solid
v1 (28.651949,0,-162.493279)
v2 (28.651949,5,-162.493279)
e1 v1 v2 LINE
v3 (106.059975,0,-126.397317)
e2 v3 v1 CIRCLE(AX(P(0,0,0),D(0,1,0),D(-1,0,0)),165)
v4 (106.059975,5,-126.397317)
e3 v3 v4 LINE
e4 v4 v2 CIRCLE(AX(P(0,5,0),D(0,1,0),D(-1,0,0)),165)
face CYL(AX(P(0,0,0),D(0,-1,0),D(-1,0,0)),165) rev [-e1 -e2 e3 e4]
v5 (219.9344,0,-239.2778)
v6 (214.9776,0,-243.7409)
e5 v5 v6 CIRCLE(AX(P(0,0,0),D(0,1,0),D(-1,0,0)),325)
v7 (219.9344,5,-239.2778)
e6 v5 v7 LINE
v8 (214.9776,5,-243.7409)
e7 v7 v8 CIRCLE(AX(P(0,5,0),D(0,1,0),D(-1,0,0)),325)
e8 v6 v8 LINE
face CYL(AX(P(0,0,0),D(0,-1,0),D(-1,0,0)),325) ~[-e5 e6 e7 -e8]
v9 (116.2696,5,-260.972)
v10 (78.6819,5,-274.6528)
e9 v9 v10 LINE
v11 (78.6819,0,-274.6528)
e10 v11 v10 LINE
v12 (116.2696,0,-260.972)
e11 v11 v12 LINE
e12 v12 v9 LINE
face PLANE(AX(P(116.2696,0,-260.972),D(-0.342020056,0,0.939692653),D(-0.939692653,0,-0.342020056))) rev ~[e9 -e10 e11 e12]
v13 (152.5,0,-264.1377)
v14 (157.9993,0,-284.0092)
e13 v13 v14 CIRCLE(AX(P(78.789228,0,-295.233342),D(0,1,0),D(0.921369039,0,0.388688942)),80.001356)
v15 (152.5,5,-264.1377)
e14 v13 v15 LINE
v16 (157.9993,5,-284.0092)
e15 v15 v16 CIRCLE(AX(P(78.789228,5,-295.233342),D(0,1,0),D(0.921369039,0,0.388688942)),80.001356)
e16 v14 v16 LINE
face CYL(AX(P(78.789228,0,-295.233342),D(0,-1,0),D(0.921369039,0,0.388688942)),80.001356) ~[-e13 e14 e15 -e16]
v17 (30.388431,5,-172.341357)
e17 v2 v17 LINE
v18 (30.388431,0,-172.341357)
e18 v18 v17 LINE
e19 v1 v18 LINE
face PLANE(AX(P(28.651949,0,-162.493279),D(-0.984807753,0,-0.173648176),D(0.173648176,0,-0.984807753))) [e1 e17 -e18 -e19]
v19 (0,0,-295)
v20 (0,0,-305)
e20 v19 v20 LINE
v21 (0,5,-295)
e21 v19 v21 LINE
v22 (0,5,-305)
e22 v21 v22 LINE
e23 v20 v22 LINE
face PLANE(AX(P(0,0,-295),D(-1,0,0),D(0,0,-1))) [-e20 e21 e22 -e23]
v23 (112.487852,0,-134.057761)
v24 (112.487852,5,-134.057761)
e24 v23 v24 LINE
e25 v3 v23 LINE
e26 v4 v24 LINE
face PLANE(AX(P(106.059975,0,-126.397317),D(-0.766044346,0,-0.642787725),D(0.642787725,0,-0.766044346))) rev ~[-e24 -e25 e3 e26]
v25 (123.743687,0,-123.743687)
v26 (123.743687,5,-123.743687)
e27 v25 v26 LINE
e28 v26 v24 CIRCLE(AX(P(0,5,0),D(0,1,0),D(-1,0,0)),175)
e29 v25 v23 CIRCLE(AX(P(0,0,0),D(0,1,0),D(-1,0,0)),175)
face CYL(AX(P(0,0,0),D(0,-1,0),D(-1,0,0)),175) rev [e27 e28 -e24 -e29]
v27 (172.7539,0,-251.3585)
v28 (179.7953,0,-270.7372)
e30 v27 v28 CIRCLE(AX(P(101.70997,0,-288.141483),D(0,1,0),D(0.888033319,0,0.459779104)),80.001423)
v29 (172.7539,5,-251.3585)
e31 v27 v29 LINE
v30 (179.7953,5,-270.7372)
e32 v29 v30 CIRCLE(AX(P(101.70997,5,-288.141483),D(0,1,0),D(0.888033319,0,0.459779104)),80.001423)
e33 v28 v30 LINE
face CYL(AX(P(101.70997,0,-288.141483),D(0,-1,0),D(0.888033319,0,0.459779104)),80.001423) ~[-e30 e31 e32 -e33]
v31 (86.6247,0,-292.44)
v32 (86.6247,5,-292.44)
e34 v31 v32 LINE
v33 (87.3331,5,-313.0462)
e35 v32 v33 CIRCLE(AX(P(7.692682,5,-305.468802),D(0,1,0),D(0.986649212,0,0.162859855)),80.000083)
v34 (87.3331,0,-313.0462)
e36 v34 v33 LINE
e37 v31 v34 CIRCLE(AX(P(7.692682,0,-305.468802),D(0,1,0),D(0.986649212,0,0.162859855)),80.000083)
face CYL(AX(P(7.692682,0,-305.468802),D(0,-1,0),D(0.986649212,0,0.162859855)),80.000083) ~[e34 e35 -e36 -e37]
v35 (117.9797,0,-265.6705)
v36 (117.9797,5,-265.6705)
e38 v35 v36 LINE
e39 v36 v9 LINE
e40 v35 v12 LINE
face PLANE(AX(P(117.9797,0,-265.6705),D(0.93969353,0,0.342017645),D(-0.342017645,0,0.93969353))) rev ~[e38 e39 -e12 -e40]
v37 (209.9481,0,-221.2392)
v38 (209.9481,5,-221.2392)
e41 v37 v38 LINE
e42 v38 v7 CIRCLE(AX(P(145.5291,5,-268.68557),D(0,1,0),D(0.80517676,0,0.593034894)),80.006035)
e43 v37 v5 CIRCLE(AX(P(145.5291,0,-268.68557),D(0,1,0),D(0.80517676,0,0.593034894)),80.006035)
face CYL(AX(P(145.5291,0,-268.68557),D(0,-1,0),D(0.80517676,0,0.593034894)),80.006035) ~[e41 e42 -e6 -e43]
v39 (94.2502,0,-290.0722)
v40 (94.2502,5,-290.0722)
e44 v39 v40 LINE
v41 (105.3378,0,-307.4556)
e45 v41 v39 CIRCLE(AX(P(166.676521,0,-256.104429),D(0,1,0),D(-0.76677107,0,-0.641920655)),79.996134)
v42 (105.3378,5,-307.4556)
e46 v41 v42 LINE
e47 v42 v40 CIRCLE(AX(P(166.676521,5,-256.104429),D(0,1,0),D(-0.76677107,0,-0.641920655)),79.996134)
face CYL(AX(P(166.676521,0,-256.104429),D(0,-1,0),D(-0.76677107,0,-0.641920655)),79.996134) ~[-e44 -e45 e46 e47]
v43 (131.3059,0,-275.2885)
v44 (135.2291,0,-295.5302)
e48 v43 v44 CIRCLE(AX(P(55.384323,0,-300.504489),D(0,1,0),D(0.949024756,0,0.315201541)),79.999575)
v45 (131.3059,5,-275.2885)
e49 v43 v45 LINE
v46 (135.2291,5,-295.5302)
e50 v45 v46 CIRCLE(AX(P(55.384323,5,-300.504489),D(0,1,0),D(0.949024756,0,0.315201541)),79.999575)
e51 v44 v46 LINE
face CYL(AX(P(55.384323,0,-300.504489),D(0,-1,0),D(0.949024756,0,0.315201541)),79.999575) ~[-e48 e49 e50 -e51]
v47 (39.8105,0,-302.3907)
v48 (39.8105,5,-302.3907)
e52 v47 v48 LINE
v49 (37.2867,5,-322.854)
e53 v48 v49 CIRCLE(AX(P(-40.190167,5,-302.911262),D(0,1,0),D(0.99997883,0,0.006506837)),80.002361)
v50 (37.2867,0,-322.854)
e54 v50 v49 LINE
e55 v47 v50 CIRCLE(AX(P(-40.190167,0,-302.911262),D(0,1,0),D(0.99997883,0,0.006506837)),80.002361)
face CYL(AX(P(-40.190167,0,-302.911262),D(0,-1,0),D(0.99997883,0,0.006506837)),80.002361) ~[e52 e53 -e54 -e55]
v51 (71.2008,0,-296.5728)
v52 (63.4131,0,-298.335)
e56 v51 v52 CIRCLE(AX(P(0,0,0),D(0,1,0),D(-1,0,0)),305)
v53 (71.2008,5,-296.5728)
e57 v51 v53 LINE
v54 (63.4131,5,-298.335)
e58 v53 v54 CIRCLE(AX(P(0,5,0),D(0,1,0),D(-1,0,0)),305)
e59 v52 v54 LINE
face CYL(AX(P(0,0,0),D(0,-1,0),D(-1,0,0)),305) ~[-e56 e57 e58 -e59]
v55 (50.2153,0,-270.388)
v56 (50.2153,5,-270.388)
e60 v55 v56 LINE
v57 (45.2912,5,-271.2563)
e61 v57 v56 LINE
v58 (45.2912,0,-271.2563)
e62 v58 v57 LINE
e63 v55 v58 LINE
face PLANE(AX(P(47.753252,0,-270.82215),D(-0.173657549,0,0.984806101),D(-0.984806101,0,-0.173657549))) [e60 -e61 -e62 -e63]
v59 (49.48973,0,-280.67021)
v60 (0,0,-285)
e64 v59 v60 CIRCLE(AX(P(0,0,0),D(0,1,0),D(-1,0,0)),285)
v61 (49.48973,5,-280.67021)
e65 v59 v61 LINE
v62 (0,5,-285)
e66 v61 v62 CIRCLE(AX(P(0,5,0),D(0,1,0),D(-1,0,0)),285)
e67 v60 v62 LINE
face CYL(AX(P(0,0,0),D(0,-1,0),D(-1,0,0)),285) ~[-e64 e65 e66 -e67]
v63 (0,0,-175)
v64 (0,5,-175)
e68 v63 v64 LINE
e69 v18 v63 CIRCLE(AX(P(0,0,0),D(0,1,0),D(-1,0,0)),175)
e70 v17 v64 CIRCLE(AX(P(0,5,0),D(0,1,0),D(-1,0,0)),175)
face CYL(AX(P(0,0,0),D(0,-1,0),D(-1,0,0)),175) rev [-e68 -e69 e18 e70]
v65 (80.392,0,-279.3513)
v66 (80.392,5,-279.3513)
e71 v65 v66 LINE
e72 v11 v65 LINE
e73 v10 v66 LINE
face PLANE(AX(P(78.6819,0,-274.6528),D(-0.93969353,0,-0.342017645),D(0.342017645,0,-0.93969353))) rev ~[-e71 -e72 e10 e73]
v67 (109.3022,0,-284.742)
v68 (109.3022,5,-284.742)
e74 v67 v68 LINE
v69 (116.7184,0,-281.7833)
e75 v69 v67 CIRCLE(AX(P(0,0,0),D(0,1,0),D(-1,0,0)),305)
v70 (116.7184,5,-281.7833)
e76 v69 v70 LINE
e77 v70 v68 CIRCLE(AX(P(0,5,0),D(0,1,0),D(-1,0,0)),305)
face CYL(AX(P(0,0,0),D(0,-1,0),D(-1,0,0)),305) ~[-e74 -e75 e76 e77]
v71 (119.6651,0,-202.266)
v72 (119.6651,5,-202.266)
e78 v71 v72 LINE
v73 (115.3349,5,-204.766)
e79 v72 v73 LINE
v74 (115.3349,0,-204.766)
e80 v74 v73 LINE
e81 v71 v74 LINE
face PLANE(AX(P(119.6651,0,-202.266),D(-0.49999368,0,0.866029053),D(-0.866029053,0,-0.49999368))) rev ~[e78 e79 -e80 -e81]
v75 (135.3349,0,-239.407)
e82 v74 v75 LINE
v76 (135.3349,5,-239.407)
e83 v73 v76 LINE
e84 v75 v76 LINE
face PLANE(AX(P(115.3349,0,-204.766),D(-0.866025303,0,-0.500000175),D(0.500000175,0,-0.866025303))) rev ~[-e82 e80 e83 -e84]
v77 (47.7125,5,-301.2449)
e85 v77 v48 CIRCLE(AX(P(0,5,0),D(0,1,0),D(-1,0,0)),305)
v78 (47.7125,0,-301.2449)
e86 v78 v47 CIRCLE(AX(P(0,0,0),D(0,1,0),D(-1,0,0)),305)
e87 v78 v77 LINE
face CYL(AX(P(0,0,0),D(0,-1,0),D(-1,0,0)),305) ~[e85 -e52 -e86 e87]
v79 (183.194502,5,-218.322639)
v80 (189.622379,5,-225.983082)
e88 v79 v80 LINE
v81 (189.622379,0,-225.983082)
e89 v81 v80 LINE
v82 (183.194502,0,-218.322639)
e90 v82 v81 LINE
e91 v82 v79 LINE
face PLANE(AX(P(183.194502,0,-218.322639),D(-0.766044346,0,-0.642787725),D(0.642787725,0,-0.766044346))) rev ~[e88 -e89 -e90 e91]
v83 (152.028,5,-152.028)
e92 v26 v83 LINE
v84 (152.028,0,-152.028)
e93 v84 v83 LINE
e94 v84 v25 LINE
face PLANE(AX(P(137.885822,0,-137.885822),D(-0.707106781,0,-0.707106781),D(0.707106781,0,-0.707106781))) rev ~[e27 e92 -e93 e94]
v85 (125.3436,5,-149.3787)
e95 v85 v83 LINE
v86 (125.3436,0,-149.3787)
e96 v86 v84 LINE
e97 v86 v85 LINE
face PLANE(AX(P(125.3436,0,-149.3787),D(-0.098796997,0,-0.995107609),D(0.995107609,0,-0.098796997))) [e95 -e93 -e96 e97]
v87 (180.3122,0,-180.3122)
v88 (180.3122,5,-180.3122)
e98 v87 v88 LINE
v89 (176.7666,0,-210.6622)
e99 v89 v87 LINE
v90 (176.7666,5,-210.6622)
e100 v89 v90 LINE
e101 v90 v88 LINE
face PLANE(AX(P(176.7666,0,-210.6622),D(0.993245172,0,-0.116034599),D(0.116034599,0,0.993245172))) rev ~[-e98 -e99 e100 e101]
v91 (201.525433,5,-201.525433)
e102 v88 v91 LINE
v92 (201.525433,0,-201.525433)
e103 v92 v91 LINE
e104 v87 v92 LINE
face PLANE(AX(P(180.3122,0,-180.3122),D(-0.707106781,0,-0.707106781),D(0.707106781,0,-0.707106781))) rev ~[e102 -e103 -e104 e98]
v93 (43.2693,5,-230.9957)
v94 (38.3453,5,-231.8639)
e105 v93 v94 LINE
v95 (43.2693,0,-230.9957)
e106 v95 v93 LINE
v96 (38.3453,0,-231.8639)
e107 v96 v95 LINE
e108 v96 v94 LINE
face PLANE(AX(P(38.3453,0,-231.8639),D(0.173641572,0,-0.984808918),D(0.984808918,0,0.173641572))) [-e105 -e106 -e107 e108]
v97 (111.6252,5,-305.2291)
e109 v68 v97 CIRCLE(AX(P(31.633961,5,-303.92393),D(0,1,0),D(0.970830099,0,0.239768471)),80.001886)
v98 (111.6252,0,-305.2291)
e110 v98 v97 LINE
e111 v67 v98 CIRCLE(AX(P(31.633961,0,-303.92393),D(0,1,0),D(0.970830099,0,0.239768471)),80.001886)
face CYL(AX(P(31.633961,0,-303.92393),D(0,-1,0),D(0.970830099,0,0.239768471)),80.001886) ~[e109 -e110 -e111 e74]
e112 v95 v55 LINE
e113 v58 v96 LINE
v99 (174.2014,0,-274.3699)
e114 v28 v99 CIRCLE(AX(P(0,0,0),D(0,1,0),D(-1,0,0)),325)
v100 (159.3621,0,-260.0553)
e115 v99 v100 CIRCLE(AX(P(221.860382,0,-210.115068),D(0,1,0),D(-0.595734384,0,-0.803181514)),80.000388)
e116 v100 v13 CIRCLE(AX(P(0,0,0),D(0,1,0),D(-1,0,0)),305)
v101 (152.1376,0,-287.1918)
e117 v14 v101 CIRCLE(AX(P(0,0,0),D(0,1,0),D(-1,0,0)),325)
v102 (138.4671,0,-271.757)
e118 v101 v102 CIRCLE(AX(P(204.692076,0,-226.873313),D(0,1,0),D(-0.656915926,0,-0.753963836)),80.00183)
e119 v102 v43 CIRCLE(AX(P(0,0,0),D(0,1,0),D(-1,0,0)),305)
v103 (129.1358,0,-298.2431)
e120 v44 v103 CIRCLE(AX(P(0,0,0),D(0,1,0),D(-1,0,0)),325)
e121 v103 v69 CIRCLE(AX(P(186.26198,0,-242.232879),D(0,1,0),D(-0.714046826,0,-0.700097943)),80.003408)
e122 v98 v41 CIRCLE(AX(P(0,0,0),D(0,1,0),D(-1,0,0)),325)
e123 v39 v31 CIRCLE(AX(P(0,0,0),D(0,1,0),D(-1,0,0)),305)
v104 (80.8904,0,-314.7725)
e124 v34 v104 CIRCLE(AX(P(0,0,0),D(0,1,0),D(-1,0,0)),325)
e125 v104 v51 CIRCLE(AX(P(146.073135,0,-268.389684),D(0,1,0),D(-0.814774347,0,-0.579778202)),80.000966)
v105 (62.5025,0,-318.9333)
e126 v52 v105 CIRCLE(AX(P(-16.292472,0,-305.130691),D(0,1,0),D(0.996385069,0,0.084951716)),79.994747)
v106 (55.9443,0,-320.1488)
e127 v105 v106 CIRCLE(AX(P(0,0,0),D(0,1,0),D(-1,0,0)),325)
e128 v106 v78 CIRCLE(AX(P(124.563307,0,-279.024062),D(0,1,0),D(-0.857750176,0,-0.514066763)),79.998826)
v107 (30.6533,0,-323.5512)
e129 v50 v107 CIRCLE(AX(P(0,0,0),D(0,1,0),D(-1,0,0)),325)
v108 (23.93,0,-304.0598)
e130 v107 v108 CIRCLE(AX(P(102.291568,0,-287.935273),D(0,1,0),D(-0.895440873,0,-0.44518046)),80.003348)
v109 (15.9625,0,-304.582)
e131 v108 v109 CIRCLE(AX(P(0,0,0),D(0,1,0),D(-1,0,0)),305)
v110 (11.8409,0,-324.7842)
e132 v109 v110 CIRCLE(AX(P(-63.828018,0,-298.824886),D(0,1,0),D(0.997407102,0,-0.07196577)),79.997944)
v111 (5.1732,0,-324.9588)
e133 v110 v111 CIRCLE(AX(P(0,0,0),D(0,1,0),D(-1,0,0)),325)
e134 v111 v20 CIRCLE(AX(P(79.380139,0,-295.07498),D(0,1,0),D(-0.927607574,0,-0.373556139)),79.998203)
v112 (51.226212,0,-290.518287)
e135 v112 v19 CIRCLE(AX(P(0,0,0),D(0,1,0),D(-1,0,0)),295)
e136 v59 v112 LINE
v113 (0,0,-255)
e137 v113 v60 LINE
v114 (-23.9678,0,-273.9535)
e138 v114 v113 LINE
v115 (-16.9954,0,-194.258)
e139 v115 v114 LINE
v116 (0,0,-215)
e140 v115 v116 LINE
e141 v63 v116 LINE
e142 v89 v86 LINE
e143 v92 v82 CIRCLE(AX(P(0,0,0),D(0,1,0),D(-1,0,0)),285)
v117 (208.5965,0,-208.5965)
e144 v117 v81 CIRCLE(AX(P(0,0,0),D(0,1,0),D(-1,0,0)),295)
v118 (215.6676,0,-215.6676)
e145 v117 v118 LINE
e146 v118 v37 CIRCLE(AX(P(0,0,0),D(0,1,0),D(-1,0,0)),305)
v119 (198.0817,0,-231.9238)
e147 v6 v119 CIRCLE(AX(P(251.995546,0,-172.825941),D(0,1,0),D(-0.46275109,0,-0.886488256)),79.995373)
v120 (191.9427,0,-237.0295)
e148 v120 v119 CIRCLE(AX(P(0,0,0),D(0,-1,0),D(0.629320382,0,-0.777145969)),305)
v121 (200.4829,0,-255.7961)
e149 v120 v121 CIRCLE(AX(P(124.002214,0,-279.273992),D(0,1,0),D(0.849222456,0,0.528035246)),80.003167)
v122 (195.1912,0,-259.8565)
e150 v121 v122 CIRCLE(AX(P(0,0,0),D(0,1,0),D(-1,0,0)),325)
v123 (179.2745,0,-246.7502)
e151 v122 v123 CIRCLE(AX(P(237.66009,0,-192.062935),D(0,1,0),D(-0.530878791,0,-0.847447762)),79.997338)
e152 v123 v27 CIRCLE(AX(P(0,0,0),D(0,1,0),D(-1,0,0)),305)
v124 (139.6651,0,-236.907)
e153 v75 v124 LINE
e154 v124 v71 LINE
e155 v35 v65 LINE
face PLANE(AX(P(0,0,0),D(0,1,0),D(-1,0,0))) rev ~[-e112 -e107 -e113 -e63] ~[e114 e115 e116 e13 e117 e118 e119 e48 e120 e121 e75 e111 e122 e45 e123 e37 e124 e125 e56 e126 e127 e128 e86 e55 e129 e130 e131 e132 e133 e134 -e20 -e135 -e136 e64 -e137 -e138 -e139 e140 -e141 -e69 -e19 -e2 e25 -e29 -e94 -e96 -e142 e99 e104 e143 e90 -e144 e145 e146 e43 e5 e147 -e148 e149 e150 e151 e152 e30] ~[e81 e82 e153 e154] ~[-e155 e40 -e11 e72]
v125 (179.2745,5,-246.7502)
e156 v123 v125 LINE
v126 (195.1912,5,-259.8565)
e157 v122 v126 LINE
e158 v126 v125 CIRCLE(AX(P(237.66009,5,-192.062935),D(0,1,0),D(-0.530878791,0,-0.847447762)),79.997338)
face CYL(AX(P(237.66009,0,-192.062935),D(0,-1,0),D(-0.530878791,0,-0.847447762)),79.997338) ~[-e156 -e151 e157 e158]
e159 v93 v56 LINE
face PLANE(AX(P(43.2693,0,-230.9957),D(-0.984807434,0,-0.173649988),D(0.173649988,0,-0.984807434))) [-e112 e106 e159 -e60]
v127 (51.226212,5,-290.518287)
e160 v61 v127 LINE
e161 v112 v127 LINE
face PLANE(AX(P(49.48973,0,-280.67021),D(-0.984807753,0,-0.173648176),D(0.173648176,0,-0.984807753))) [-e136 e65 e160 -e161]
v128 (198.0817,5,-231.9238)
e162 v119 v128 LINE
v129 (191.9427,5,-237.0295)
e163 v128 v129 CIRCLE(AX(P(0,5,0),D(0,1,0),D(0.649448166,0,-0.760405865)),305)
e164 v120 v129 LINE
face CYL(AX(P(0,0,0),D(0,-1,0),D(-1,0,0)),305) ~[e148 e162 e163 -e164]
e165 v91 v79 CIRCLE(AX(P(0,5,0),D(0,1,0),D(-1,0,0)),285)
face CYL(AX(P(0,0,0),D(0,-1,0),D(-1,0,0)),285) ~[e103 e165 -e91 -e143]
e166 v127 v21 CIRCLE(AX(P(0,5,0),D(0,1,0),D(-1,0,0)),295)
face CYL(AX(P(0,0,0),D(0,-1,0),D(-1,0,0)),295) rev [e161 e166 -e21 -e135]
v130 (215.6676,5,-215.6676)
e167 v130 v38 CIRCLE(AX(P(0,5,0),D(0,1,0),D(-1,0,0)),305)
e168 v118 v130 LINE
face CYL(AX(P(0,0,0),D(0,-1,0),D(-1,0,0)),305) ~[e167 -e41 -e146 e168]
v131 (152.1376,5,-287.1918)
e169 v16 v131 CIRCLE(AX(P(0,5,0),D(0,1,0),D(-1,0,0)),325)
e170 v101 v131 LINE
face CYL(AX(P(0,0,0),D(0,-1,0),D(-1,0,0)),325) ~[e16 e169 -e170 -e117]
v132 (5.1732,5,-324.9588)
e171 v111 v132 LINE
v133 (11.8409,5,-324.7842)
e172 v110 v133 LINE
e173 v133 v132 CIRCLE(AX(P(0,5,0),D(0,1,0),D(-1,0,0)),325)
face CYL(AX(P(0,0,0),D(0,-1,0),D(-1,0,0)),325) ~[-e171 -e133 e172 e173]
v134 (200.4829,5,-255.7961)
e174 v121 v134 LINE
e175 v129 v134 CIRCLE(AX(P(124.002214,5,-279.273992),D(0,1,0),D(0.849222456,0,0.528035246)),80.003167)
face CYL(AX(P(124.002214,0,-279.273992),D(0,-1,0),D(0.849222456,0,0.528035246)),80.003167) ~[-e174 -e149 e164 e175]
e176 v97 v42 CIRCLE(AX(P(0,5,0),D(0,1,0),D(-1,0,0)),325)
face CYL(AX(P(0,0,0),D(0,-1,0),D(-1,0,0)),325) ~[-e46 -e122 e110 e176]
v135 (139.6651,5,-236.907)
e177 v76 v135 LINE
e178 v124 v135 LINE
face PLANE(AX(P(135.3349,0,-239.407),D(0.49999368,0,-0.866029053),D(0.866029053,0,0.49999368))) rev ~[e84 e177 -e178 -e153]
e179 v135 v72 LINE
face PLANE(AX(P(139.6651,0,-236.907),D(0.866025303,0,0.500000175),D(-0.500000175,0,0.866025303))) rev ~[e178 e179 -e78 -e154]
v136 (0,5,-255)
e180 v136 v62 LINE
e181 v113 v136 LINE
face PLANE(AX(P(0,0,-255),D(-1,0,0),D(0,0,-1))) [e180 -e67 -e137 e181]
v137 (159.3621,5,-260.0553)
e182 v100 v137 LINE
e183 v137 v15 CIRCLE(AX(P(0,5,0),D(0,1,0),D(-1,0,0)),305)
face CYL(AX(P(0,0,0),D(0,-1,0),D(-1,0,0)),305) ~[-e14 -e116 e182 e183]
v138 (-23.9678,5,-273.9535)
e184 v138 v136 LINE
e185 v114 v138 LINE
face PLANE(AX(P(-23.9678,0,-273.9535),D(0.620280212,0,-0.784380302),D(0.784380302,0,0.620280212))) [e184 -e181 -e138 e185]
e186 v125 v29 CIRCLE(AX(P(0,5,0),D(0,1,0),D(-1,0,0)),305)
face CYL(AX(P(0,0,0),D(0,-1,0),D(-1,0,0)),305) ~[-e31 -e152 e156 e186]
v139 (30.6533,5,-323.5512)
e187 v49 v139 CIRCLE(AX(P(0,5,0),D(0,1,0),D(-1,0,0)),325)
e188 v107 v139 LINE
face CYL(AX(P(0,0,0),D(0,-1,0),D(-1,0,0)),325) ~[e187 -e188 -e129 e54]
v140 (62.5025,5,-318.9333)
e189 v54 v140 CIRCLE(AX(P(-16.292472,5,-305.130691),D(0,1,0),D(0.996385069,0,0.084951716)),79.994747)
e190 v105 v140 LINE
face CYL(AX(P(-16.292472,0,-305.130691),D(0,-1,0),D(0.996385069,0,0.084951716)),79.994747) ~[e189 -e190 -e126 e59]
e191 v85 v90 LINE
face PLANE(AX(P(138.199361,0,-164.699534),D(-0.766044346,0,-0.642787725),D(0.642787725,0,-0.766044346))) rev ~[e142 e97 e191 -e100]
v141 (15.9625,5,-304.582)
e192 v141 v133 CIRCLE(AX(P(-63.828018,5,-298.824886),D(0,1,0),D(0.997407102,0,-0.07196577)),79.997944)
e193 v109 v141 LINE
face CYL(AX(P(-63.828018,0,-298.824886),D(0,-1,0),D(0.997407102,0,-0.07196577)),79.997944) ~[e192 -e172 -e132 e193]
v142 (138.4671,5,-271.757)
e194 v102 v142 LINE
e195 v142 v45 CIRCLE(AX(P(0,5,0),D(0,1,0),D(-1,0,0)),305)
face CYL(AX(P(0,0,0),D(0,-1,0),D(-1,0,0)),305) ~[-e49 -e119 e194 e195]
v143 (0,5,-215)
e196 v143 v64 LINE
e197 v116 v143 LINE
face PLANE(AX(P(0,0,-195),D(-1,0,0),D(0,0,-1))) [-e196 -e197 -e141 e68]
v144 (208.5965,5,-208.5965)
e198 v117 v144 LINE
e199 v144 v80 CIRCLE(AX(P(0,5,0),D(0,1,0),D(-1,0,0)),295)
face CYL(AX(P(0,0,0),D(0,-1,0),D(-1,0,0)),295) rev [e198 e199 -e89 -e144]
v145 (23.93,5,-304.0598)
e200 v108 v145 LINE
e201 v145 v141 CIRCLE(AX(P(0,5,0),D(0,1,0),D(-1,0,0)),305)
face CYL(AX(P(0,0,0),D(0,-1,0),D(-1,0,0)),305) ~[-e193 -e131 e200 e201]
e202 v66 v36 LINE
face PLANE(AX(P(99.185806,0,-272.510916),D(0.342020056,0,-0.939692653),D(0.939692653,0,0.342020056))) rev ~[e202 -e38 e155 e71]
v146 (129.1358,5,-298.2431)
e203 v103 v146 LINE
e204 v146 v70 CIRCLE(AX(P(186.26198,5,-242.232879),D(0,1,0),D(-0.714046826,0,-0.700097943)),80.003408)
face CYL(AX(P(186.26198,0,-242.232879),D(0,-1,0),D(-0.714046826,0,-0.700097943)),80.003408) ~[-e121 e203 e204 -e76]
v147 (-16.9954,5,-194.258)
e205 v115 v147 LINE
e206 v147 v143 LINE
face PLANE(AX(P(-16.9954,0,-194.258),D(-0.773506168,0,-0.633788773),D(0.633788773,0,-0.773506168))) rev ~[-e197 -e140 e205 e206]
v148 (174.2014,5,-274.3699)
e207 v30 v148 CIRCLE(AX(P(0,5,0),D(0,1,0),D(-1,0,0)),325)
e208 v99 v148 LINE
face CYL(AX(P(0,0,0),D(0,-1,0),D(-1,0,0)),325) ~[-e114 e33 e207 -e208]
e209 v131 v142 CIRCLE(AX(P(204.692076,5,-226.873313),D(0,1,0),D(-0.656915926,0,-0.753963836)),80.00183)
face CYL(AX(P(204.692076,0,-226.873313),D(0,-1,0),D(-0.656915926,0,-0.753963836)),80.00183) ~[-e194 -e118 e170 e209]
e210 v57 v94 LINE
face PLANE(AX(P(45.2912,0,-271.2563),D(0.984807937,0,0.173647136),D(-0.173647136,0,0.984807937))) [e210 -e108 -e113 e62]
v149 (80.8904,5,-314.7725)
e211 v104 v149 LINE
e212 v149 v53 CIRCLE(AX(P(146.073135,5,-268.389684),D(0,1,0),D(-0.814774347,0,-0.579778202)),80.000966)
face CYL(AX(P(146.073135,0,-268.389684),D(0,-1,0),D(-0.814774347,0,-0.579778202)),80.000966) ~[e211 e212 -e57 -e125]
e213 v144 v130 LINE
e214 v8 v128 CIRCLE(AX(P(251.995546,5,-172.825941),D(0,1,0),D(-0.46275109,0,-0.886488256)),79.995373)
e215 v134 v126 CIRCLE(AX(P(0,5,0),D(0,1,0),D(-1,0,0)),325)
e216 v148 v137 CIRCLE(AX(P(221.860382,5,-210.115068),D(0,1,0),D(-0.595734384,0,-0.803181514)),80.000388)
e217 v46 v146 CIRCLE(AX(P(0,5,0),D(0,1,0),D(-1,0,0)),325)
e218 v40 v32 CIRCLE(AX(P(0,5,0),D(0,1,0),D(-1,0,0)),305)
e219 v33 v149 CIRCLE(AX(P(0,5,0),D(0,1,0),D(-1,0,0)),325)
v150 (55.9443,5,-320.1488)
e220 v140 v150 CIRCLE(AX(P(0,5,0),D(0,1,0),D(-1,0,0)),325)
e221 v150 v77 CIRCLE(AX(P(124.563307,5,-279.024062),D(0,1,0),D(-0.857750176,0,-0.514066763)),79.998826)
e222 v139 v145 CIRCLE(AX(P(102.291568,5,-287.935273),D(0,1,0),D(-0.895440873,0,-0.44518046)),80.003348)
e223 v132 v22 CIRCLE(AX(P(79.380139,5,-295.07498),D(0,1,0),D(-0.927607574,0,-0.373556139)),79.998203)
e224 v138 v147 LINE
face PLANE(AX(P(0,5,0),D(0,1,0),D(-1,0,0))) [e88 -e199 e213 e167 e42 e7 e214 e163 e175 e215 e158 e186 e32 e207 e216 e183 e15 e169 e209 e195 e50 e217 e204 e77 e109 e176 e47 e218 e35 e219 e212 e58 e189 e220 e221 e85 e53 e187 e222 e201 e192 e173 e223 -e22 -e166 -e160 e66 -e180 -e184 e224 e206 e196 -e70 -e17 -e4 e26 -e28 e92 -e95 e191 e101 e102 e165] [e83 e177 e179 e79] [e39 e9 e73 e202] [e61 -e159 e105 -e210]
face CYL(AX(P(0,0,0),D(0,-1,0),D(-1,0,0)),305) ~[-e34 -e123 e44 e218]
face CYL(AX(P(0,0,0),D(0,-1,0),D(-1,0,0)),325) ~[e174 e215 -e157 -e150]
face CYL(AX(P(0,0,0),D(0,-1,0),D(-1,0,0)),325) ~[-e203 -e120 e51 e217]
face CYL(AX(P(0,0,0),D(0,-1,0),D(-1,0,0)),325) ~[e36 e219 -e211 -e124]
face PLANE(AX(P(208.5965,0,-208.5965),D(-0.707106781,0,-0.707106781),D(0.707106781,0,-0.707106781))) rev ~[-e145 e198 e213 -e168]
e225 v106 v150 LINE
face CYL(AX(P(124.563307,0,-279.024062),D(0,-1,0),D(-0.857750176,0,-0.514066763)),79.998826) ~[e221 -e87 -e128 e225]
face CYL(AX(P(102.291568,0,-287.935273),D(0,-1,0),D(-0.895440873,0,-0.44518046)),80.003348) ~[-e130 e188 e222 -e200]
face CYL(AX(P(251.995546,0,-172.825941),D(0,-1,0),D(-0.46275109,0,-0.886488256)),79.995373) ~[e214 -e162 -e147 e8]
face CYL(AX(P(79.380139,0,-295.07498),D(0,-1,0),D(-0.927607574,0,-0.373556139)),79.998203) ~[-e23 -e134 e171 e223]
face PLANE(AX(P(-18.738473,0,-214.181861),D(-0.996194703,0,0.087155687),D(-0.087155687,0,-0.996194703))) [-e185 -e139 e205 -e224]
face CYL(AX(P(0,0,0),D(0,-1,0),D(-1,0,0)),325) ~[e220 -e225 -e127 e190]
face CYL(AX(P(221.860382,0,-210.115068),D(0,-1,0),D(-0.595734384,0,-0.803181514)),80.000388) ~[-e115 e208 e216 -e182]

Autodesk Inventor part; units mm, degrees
ref_plane "YZ Plane" through (0, 0, 0) normal (1, 0, 0) x (0, 1, 0)
ref_plane "XZ Plane" through (0, 0, 0) normal (0, 1, 0) x (-1, 0, 0)
ref_plane "XY Plane" through (0, 0, 0) normal (0, 0, 1) x (1, 0, 0)
sketch "Sketch2" plane through (0, 0, 0) normal (0, 1, 0) x (-1, 0, 0)
  circle A0 centre (0, 0) radius 325
  circle A1 centre (0, 0) radius 165
  line L0 (0, 0) -> (0, -325)
  line L1 (0, 0) -> (-229.8097, -229.8097)
  line L2 (0, 0) -> (28.3256, -323.7633)
  line L3 (0, 0) -> (-208.906, -248.9644)
  circle A2 centre (0, 0) radius 275 construction
  circle A3 centre (0, 0) radius 195
  circle A4 centre (0, 0) radius 215
  circle A5 centre (0, 0) radius 255 construction
  line L4 (16.9954, -194.258) -> (0, -215)
  line L5 (23.9678, -273.9535) -> (0, -255)
  line L6 (-125.3436, -149.3787) -> (-152.028, -152.028)
  line L7 (-176.7666, -210.6622) -> (-180.3122, -180.3122)
  line L8 (0, 0) -> (-111.1565, -305.4001) construction
  circle A6 centre (0, 0) radius 235 construction
  circle A7 centre (0, 0) radius 275 construction
  line L9 (0, 0) -> (-17.0092, -324.5546) construction
  line L10 (0, 0) -> (-8.5075, -324.8886) construction
  circle A8 centre (0, 0) radius 305
  arc A9 (-5.1732, -324.9588) -> (0, -305) centre (-79.3819, -295.0744) ccw
  arc A10 (-15.9625, -304.582) -> (-11.8409, -324.7842) centre (63.8301, -298.8246) ccw
  arc A11 (20.3387, -324.363) -> (23.93, -304.0598) centre (-55.9859, -300.393) ccw
  arc A12 (7.984, -304.8955) -> (13.6779, -324.712) centre (87.0788, -292.8953) ccw
  arc A13 (45.7252, -321.7673) -> (47.7125, -301.2449) centre (-32.2447, -303.8596) ccw
  arc A14 (31.8812, -303.3292) -> (39.1123, -322.6379) centre (109.7907, -285.1603) ccw
  arc A15 (70.8298, -317.1879) -> (71.2008, -296.5728) centre (-8.3048, -305.4528) ccw
  arc A16 (55.5818, -299.8927) -> (64.3057, -318.5746) centre (131.8257, -275.6672) ccw
  arc A17 (95.4978, -310.6528) -> (94.2502, -290.0722) centre (15.6864, -305.1628) ccw
  arc A18 (78.9398, -294.6074) -> (89.1025, -312.5472) centre (153.0479, -264.4745) ccw
  arc A19 (119.5769, -302.2025) -> (116.7184, -281.7833) centre (39.5808, -302.9913) ccw
  arc A20 (101.8111, -287.5057) -> (113.35, -304.5928) centre (173.3265, -251.6512) ccw
  arc A21 (142.9188, -291.889) -> (138.4671, -271.757) centre (63.2312, -298.9518) ccw
  arc A22 (124.0547, -278.6314) -> (136.8987, -294.7605) centre (192.5365, -237.2764) ccw
  arc A23 (165.3796, -279.776) -> (159.3621, -260.0553) centre (86.4918, -293.0692) ccw
  arc A24 (145.5334, -268.0392) -> (159.6033, -283.1109) centre (210.5595, -221.4387) ccw
  arc A25 (186.8208, -265.938) -> (179.2745, -246.7502) centre (109.2191, -285.3797) ccw
  arc A26 (166.1149, -255.7945) -> (181.3239, -269.7159) centre (227.2843, -204.2358) ccw
  arc A27 (207.1101, -250.4604) -> (198.0817, -231.9238) centre (131.273, -275.9308) ccw
  arc A28 (185.6722, -241.9728) -> (201.9266, -254.6579) centre (242.6078, -185.7736) ccw
  arc A29 (226.1226, -233.4386) -> (215.6676, -215.6676) centre (152.5177, -264.7806) ccw
  arc A30 (204.0848, -226.6592) -> (221.2844, -238.0299) centre (256.4356, -166.1662) ccw
  arc A31 (243.7409, -214.9776) -> (231.9238, -198.0817) centre (172.8219, -251.998) ccw
  arc A32 (221.2392, -209.9481) -> (239.2778, -219.9344) centre (268.6823, -145.5342) ccw
  arc A33 (259.8565, -195.1912) -> (246.7502, -179.2745) centre (192.0607, -237.6617) ccw
  arc A34 (237.0295, -191.9427) -> (255.7961, -200.4829) centre (279.2725, -124.005) ccw
  arc A35 (274.3699, -174.2014) -> (260.0553, -159.3621) centre (210.1154, -221.8601) ccw
  arc A36 (251.3585, -172.7539) -> (270.7372, -179.7953) centre (288.1409, -101.7113) ccw
  arc A37 (287.1918, -152.1376) -> (271.757, -138.4671) centre (226.8746, -204.6908) ccw
  arc A38 (264.1377, -152.5) -> (284.0092, -157.9993) centre (295.2329, -78.7905) ccw
  arc A39 (298.2431, -129.1358) -> (281.7833, -116.7184) centre (242.2351, -186.2594) ccw
  arc A40 (275.2885, -131.3059) -> (295.5302, -135.2291) centre (300.5046, -55.3839) ccw
  arc A41 (307.4556, -105.3378) -> (290.0722, -94.2502) centre (256.1021, -166.6797) ccw
  arc A42 (284.742, -109.3022) -> (305.2291, -111.6252) centre (303.9236, -31.6358) ccw
  arc A43 (314.7725, -80.8904) -> (296.5728, -71.2008) centre (268.3902, -146.0723) ccw
  arc A44 (292.44, -86.6247) -> (313.0462, -87.3331) centre (305.4688, -7.6927) ccw
  arc A45 (320.1488, -55.9443) -> (301.2449, -47.7125) centre (279.0235, -124.5644) ccw
  arc A46 (298.335, -63.4131) -> (318.9333, -62.5025) centre (305.1308, 16.2978) ccw
  arc A47 (323.5512, -30.6533) -> (304.0598, -23.93) centre (287.9366, -102.2884) ccw
  arc A48 (302.3907, -39.8105) -> (322.854, -37.2867) centre (302.9114, 40.1878) ccw
  arc A49 (324.9588, -5.1732) -> (305, 0) centre (295.0744, -79.3819) ccw
  arc A50 (304.582, -15.9625) -> (324.7842, -11.8409) centre (298.8246, 63.8301) ccw
  arc A51 (324.363, 20.3387) -> (304.0598, 23.93) centre (300.393, -55.9859) ccw
  arc A52 (304.8955, 7.984) -> (324.712, 13.6779) centre (292.8953, 87.0788) ccw
  arc A53 (321.7673, 45.7252) -> (301.2449, 47.7125) centre (303.8596, -32.2447) ccw
  arc A54 (303.3292, 31.8812) -> (322.6379, 39.1123) centre (285.1603, 109.7907) ccw
  arc A55 (317.1879, 70.8298) -> (296.5728, 71.2008) centre (305.4528, -8.3048) ccw
  arc A56 (299.8927, 55.5818) -> (318.5746, 64.3057) centre (275.6672, 131.8257) ccw
  arc A57 (310.6528, 95.4978) -> (290.0722, 94.2502) centre (305.1628, 15.6864) ccw
  arc A58 (294.6074, 78.9398) -> (312.5472, 89.1025) centre (264.4745, 153.0479) ccw
  arc A59 (302.2025, 119.5769) -> (281.7833, 116.7184) centre (302.9913, 39.5808) ccw
  arc A60 (287.5057, 101.8111) -> (304.5928, 113.35) centre (251.6512, 173.3265) ccw
  arc A61 (291.889, 142.9188) -> (271.757, 138.4671) centre (298.9518, 63.2312) ccw
  arc A62 (278.6314, 124.0547) -> (294.7605, 136.8987) centre (237.2764, 192.5365) ccw
  arc A63 (279.776, 165.3796) -> (260.0553, 159.3621) centre (293.0692, 86.4918) ccw
  arc A64 (268.0392, 145.5334) -> (283.1109, 159.6033) centre (221.4387, 210.5595) ccw
  arc A65 (265.938, 186.8208) -> (246.7502, 179.2745) centre (285.3797, 109.2191) ccw
  arc A66 (255.7945, 166.1149) -> (269.7159, 181.3239) centre (204.2358, 227.2843) ccw
  arc A67 (250.4604, 207.1101) -> (231.9238, 198.0817) centre (275.9308, 131.273) ccw
  arc A68 (241.9728, 185.6722) -> (254.6579, 201.9266) centre (185.7736, 242.6078) ccw
  arc A69 (233.4386, 226.1226) -> (215.6676, 215.6676) centre (264.7806, 152.5177) ccw
  arc A70 (226.6592, 204.0848) -> (238.0299, 221.2844) centre (166.1662, 256.4356) ccw
  arc A71 (214.9776, 243.7409) -> (198.0817, 231.9238) centre (251.998, 172.8219) ccw
  arc A72 (209.9481, 221.2392) -> (219.9344, 239.2778) centre (145.5342, 268.6823) ccw
  arc A73 (195.1912, 259.8565) -> (179.2745, 246.7502) centre (237.6617, 192.0607) ccw
  arc A74 (191.9427, 237.0295) -> (200.4829, 255.7961) centre (124.005, 279.2725) ccw
  arc A75 (174.2014, 274.3699) -> (159.3621, 260.0553) centre (221.8601, 210.1154) ccw
  arc A76 (172.7539, 251.3585) -> (179.7953, 270.7372) centre (101.7113, 288.1409) ccw
  arc A77 (152.1376, 287.1918) -> (138.4671, 271.757) centre (204.6908, 226.8746) ccw
  arc A78 (152.5, 264.1377) -> (157.9993, 284.0092) centre (78.7905, 295.2329) ccw
  arc A79 (129.1358, 298.2431) -> (116.7184, 281.7833) centre (186.2594, 242.2351) ccw
  arc A80 (131.3059, 275.2885) -> (135.2291, 295.5302) centre (55.3839, 300.5046) ccw
  arc A81 (105.3378, 307.4556) -> (94.2502, 290.0722) centre (166.6797, 256.1021) ccw
  arc A82 (109.3022, 284.742) -> (111.6252, 305.2291) centre (31.6358, 303.9236) ccw
  arc A83 (80.8904, 314.7725) -> (71.2008, 296.5728) centre (146.0723, 268.3902) ccw
  arc A84 (86.6247, 292.44) -> (87.3331, 313.0462) centre (7.6927, 305.4688) ccw
  arc A85 (55.9443, 320.1488) -> (47.7125, 301.2449) centre (124.5644, 279.0235) ccw
  arc A86 (63.4131, 298.335) -> (62.5025, 318.9333) centre (-16.2978, 305.1308) ccw
  arc A87 (30.6533, 323.5512) -> (23.93, 304.0598) centre (102.2884, 287.9366) ccw
  arc A88 (39.8105, 302.3907) -> (37.2867, 322.854) centre (-40.1878, 302.9114) ccw
  circle A89 centre (0, 0) radius 295
  circle A90 centre (0, 0) radius 285
  line L11 (0, 0) -> (-52.9627, -300.3664)
  line L12 (-80.392, -279.3513) -> (-117.9797, -265.6705)
  line L13 (-117.9797, -265.6705) -> (-116.2696, -260.972)
  line L14 (-116.2696, -260.972) -> (-78.6819, -274.6528)
  line L15 (-78.6819, -274.6528) -> (-80.392, -279.3513)
  line L16 (-80.392, -279.3513) -> (-116.2696, -260.972) construction
  line L17 (-117.9797, -265.6705) -> (-78.6819, -274.6528) construction
  line L18 (-98.3308, -270.1616) -> (-99.1858, -272.5109)
  circle A91 centre (0, 0) radius 175
  line L19 (-135.3349, -239.407) -> (-139.6651, -236.907)
  line L20 (-139.6651, -236.907) -> (-119.6651, -202.266)
  line L21 (-119.6651, -202.266) -> (-115.3349, -204.766)
  line L22 (-115.3349, -204.766) -> (-135.3349, -239.407)
  line L23 (-135.3349, -239.407) -> (-119.6651, -202.266) construction
  line L24 (-139.6651, -236.907) -> (-115.3349, -204.766) construction
  line L25 (-137.5, -238.157) -> (-117.5, -203.516) construction
  line L26 (-129.6651, -219.5865) -> (-125.3349, -222.0865) construction
  line L27 (-50.2153, -270.388) -> (-45.2912, -271.2563)
  line L28 (-45.2912, -271.2563) -> (-38.3453, -231.8639)
  line L29 (-38.3453, -231.8639) -> (-43.2693, -230.9957)
  line L30 (-43.2693, -230.9957) -> (-50.2153, -270.388)
  line L31 (-50.2153, -270.388) -> (-38.3453, -231.8639) construction
  line L32 (-45.2912, -271.2563) -> (-43.2693, -230.9957) construction
  line L33 (-47.7532, -270.8221) -> (-40.8073, -231.4298) construction
  arc A92 (5.1732, 324.9588) -> (0, 305) centre (79.3819, 295.0744) ccw
  arc A93 (15.9625, 304.582) -> (11.8409, 324.7842) centre (-63.8301, 298.8246) ccw
  arc A94 (-20.3387, 324.363) -> (-23.93, 304.0598) centre (55.9859, 300.393) ccw
  arc A95 (-7.984, 304.8955) -> (-13.6779, 324.712) centre (-87.0788, 292.8953) ccw
  arc A96 (-45.7252, 321.7673) -> (-47.7125, 301.2449) centre (32.2447, 303.8596) ccw
  arc A97 (-31.8812, 303.3292) -> (-39.1123, 322.6379) centre (-109.7907, 285.1603) ccw
  arc A98 (-70.8298, 317.1879) -> (-71.2008, 296.5728) centre (8.3048, 305.4528) ccw
  arc A99 (-55.5818, 299.8927) -> (-64.3057, 318.5746) centre (-131.8257, 275.6672) ccw
  arc A100 (-95.4978, 310.6528) -> (-94.2502, 290.0722) centre (-15.6864, 305.1628) ccw
  arc A101 (-78.9398, 294.6074) -> (-89.1025, 312.5472) centre (-153.0479, 264.4745) ccw
  arc A102 (-119.5769, 302.2025) -> (-116.7184, 281.7833) centre (-39.5808, 302.9913) ccw
  arc A103 (-101.8111, 287.5057) -> (-113.35, 304.5928) centre (-173.3265, 251.6512) ccw
  arc A104 (-142.9188, 291.889) -> (-138.4671, 271.757) centre (-63.2312, 298.9518) ccw
  arc A105 (-124.0547, 278.6314) -> (-136.8987, 294.7605) centre (-192.5365, 237.2764) ccw
  arc A106 (-165.3796, 279.776) -> (-159.3621, 260.0553) centre (-86.4918, 293.0692) ccw
  arc A107 (-145.5334, 268.0392) -> (-159.6033, 283.1109) centre (-210.5595, 221.4387) ccw
  arc A108 (-186.8208, 265.938) -> (-179.2745, 246.7502) centre (-109.2191, 285.3797) ccw
  arc A109 (-166.1149, 255.7945) -> (-181.3239, 269.7159) centre (-227.2843, 204.2358) ccw
  arc A110 (-207.1101, 250.4604) -> (-198.0817, 231.9238) centre (-131.273, 275.9308) ccw
  arc A111 (-185.6722, 241.9728) -> (-201.9266, 254.6579) centre (-242.6078, 185.7736) ccw
  arc A112 (-226.1226, 233.4386) -> (-215.6676, 215.6676) centre (-152.5177, 264.7806) ccw
  arc A113 (-204.0848, 226.6592) -> (-221.2844, 238.0299) centre (-256.4356, 166.1662) ccw
  arc A114 (-243.7409, 214.9776) -> (-231.9238, 198.0817) centre (-172.8219, 251.998) ccw
  arc A115 (-221.2392, 209.9481) -> (-239.2778, 219.9344) centre (-268.6823, 145.5342) ccw
  arc A116 (-259.8565, 195.1912) -> (-246.7502, 179.2745) centre (-192.0607, 237.6617) ccw
  arc A117 (-237.0295, 191.9427) -> (-255.7961, 200.4829) centre (-279.2725, 124.005) ccw
  arc A118 (-274.3699, 174.2014) -> (-260.0553, 159.3621) centre (-210.1154, 221.8601) ccw
  arc A119 (-251.3585, 172.7539) -> (-270.7372, 179.7953) centre (-288.1409, 101.7113) ccw
  arc A120 (-287.1918, 152.1376) -> (-271.757, 138.4671) centre (-226.8746, 204.6908) ccw
  arc A121 (-264.1377, 152.5) -> (-284.0092, 157.9993) centre (-295.2329, 78.7905) ccw
  arc A122 (-298.2431, 129.1358) -> (-281.7833, 116.7184) centre (-242.2351, 186.2594) ccw
  arc A123 (-275.2885, 131.3059) -> (-295.5302, 135.2291) centre (-300.5046, 55.3839) ccw
  arc A124 (-307.4556, 105.3378) -> (-290.0722, 94.2502) centre (-256.1021, 166.6797) ccw
  arc A125 (-284.742, 109.3022) -> (-305.2291, 111.6252) centre (-303.9236, 31.6358) ccw
  arc A126 (-314.7725, 80.8904) -> (-296.5728, 71.2008) centre (-268.3902, 146.0723) ccw
  arc A127 (-292.44, 86.6247) -> (-313.0462, 87.3331) centre (-305.4688, 7.6927) ccw
  arc A128 (-320.1488, 55.9443) -> (-301.2449, 47.7125) centre (-279.0235, 124.5644) ccw
  arc A129 (-298.335, 63.4131) -> (-318.9333, 62.5025) centre (-305.1308, -16.2978) ccw
  arc A130 (-323.5512, 30.6533) -> (-304.0598, 23.93) centre (-287.9366, 102.2884) ccw
  arc A131 (-302.3907, 39.8105) -> (-322.854, 37.2867) centre (-302.9114, -40.1878) ccw
  arc A132 (-324.9588, 5.1732) -> (-305, 0) centre (-295.0744, 79.3819) ccw
  arc A133 (-304.582, 15.9625) -> (-324.7842, 11.8409) centre (-298.8246, -63.8301) ccw
  arc A134 (-324.363, -20.3387) -> (-304.0598, -23.93) centre (-300.393, 55.9859) ccw
  arc A135 (-304.8955, -7.984) -> (-324.712, -13.6779) centre (-292.8953, -87.0788) ccw
  arc A136 (-321.7673, -45.7252) -> (-301.2449, -47.7125) centre (-303.8596, 32.2447) ccw
  arc A137 (-303.3292, -31.8812) -> (-322.6379, -39.1123) centre (-285.1603, -109.7907) ccw
  arc A138 (-317.1879, -70.8298) -> (-296.5728, -71.2008) centre (-305.4528, 8.3048) ccw
  arc A139 (-299.8927, -55.5818) -> (-318.5746, -64.3057) centre (-275.6672, -131.8257) ccw
  arc A140 (-310.6528, -95.4978) -> (-290.0722, -94.2502) centre (-305.1628, -15.6864) ccw
  arc A141 (-294.6074, -78.9398) -> (-312.5472, -89.1025) centre (-264.4745, -153.0479) ccw
  arc A142 (-302.2025, -119.5769) -> (-281.7833, -116.7184) centre (-302.9913, -39.5808) ccw
  arc A143 (-287.5057, -101.8111) -> (-304.5928, -113.35) centre (-251.6512, -173.3265) ccw
  arc A144 (-291.889, -142.9188) -> (-271.757, -138.4671) centre (-298.9518, -63.2312) ccw
  arc A145 (-278.6314, -124.0547) -> (-294.7605, -136.8987) centre (-237.2764, -192.5365) ccw
  arc A146 (-279.776, -165.3796) -> (-260.0553, -159.3621) centre (-293.0692, -86.4918) ccw
  arc A147 (-268.0392, -145.5334) -> (-283.1109, -159.6033) centre (-221.4387, -210.5595) ccw
  arc A148 (-265.938, -186.8208) -> (-246.7502, -179.2745) centre (-285.3797, -109.2191) ccw
  arc A149 (-255.7945, -166.1149) -> (-269.7159, -181.3239) centre (-204.2358, -227.2843) ccw
  arc A150 (-250.4604, -207.1101) -> (-231.9238, -198.0817) centre (-275.9308, -131.273) ccw
  arc A151 (-241.9728, -185.6722) -> (-254.6579, -201.9266) centre (-185.7736, -242.6078) ccw
  arc A152 (-233.4386, -226.1226) -> (-215.6676, -215.6676) centre (-264.7806, -152.5177) ccw
  arc A153 (-226.6592, -204.0848) -> (-238.0299, -221.2844) centre (-166.1662, -256.4356) ccw
  arc A154 (-214.9776, -243.7409) -> (-198.0817, -231.9238) centre (-251.998, -172.8219) ccw
  arc A155 (-209.9481, -221.2392) -> (-219.9344, -239.2778) centre (-145.5342, -268.6823) ccw
  arc A156 (-195.1912, -259.8565) -> (-179.2745, -246.7502) centre (-237.6617, -192.0607) ccw
  arc A157 (-191.9427, -237.0295) -> (-200.4829, -255.7961) centre (-124.005, -279.2725) ccw
  arc A158 (-174.2014, -274.3699) -> (-159.3621, -260.0553) centre (-221.8601, -210.1154) ccw
  arc A159 (-172.7539, -251.3585) -> (-179.7953, -270.7372) centre (-101.7113, -288.1409) ccw
  arc A160 (-152.1376, -287.1918) -> (-138.4671, -271.757) centre (-204.6908, -226.8746) ccw
  arc A161 (-152.5, -264.1377) -> (-157.9993, -284.0092) centre (-78.7905, -295.2329) ccw
  arc A162 (-129.1358, -298.2431) -> (-116.7184, -281.7833) centre (-186.2594, -242.2351) ccw
  arc A163 (-131.3059, -275.2885) -> (-135.2291, -295.5302) centre (-55.3839, -300.5046) ccw
  arc A164 (-105.3378, -307.4556) -> (-94.2502, -290.0722) centre (-166.6797, -256.1021) ccw
  arc A165 (-109.3022, -284.742) -> (-111.6252, -305.2291) centre (-31.6358, -303.9236) ccw
  arc A166 (-80.8904, -314.7725) -> (-71.2008, -296.5728) centre (-146.0723, -268.3902) ccw
  arc A167 (-86.6247, -292.44) -> (-87.3331, -313.0462) centre (-7.6927, -305.4688) ccw
  arc A168 (-55.9443, -320.1488) -> (-47.7125, -301.2449) centre (-124.5644, -279.0235) ccw
  arc A169 (-63.4131, -298.335) -> (-62.5025, -318.9333) centre (16.2978, -305.1308) ccw
  arc A170 (-30.6533, -323.5512) -> (-23.93, -304.0598) centre (-102.2884, -287.9366) ccw
  arc A171 (-39.8105, -302.3907) -> (-37.2867, -322.854) centre (40.1878, -302.9114) ccw
  point P0 (0, -165)
  point P1 (-116.6726, -116.6726)
  point P2 (-215.6676, -215.6676)
  point P3 (109.3022, 284.742)
  point P4 (111.6252, 305.2291)
  point P5 (105.3378, 307.4556)
  point P6 (94.2502, 290.0722)
  point P7 (86.6247, 292.44)
  point P8 (87.3331, 313.0462)
  point P9 (80.8904, 314.7725)
  point P10 (71.2008, 296.5728)
  point P11 (63.4131, 298.335)
  point P12 (62.5025, 318.9333)
  point P13 (55.9443, 320.1488)
  point P14 (47.7125, 301.2449)
  point P15 (39.8105, 302.3907)
  point P16 (37.2867, 322.854)
  point P17 (30.6533, 323.5512)
  point P18 (23.93, 304.0598)
  point P19 (-15.9625, -304.582)
  point P20 (-11.8409, -324.7842)
  point P21 (-37.3344, -211.7337)
  point P22 (-201.5254, -201.5254)
  point P23 (-183.1945, -218.3227)
  point P24 (-189.6223, -225.9831)
  point P25 (-208.5965, -208.5965)
  point P26 (0, -295)
  point P27 (-51.2262, -290.5183)
  point P28 (-49.4897, -280.6702)
  point P29 (0, -285)
  point P30 (0, -175)
  point P31 (-30.3884, -172.3414)
  point P32 (-28.6519, -162.4933)
  point P33 (-106.06, -126.3973)
  point P34 (-112.4878, -134.0578)
  point P35 (-123.7437, -123.7437)
  point P36 (-127.5, -220.8365)
  point P37 (15.2523, -174.3341)
  point P38 (-196.0502, -233.6436)
  point P39 (26.5825, -303.8394)
  point P40 (25.7109, -293.8774)
  point P41 (24.8394, -283.9155)
  point P42 (14.3807, -164.3721)
  point P43 (-219.9344, -239.2778)
  point P44 (-198.0817, -231.9238)
  point P45 (-200.4829, -255.7961)
  point P46 (-195.1912, -259.8565)
  point P47 (-179.2745, -246.7502)
  point P48 (-172.7539, -251.3585)
  point P49 (-179.7953, -270.7372)
  point P50 (-174.2014, -274.3699)
  point P51 (-152.5, -264.1377)
  point P52 (-157.9993, -284.0092)
  point P53 (-138.4671, -271.757)
  point P54 (-135.2291, -295.5302)
  point P55 (-116.7184, -281.7833)
  point P56 (-109.3022, -284.742)
  point P57 (-111.6252, -305.2291)
  point P58 (-105.3378, -307.4556)
  point P59 (-94.2502, -290.0722)
  point P60 (-86.6247, -292.44)
  point P61 (-87.3331, -313.0462)
  point P62 (-80.8904, -314.7725)
  point P63 (-71.2008, -296.5728)
  point P64 (-63.4131, -298.335)
  point P65 (-62.5025, -318.9333)
  point P66 (-55.9443, -320.1488)
  point P67 (-47.7125, -301.2449)
  point P68 (-37.2867, -322.854)
  point P69 (-23.93, -304.0598)
  dimension "d0" = 650
  dimension "d42" = 20
  dimension "d57" = 90
  dimension "d1" = 330
  dimension "d2" = 45
  dimension "d3" = 5
  dimension "d4" = 5
  dimension "d6" = 30
  dimension "d7" = 20
  dimension "d8" = 20
  dimension "d14" = 20
  dimension "d35" = 3
  dimension "d36" = 1.5
  dimension "d44" = 80
  dimension "d47" = 360
  dimension "d50" = 10
  dimension "d52" = 10
  dimension "d53" = 40
  dimension "d54" = 5
  dimension "d55" = 10
  dimension "d61" = 40
  dimension "d63" = 5
  dimension "d64" = 10
  dimension "d66" = 40
extrude "Extrusion1" add sketch "Sketch2" along normal blind 5 contours L0 A8 L11 A89 | A0 A10 A8 A9 | L5 L0 A4 L2 | A90 L11 L27 L28 L29 A4 L0 | L11 A8 L3 A89 | A89 L3 A90 L11 | A89 L3 A8 L1 | A4 L4 L2 | A90 L3 A4 L11 L29 L30 L27 | L1 L7 L3 A90 | A8 A168 A0 A169 | A0 A171 A8 A170 | A4 L11 A3 L0 | A8 A154 A0 A155 | A3 L11 A91 L0 | A4 L3 A3 L11 | L1 A3 L6 | A8 A156 A0 A157 | A166 A0 A167 A8 | L1 A91 L3 A3 | A3 L3 A91 L11 | A91 L3 A1 L11 | A8 A158 A0 A159 | A164 A0 A165 A8 | A8 A160 A0 A161 | A162 A0 A163 A8
properties part number "Base Plate Bottom v3" material "LCP Plastic"
